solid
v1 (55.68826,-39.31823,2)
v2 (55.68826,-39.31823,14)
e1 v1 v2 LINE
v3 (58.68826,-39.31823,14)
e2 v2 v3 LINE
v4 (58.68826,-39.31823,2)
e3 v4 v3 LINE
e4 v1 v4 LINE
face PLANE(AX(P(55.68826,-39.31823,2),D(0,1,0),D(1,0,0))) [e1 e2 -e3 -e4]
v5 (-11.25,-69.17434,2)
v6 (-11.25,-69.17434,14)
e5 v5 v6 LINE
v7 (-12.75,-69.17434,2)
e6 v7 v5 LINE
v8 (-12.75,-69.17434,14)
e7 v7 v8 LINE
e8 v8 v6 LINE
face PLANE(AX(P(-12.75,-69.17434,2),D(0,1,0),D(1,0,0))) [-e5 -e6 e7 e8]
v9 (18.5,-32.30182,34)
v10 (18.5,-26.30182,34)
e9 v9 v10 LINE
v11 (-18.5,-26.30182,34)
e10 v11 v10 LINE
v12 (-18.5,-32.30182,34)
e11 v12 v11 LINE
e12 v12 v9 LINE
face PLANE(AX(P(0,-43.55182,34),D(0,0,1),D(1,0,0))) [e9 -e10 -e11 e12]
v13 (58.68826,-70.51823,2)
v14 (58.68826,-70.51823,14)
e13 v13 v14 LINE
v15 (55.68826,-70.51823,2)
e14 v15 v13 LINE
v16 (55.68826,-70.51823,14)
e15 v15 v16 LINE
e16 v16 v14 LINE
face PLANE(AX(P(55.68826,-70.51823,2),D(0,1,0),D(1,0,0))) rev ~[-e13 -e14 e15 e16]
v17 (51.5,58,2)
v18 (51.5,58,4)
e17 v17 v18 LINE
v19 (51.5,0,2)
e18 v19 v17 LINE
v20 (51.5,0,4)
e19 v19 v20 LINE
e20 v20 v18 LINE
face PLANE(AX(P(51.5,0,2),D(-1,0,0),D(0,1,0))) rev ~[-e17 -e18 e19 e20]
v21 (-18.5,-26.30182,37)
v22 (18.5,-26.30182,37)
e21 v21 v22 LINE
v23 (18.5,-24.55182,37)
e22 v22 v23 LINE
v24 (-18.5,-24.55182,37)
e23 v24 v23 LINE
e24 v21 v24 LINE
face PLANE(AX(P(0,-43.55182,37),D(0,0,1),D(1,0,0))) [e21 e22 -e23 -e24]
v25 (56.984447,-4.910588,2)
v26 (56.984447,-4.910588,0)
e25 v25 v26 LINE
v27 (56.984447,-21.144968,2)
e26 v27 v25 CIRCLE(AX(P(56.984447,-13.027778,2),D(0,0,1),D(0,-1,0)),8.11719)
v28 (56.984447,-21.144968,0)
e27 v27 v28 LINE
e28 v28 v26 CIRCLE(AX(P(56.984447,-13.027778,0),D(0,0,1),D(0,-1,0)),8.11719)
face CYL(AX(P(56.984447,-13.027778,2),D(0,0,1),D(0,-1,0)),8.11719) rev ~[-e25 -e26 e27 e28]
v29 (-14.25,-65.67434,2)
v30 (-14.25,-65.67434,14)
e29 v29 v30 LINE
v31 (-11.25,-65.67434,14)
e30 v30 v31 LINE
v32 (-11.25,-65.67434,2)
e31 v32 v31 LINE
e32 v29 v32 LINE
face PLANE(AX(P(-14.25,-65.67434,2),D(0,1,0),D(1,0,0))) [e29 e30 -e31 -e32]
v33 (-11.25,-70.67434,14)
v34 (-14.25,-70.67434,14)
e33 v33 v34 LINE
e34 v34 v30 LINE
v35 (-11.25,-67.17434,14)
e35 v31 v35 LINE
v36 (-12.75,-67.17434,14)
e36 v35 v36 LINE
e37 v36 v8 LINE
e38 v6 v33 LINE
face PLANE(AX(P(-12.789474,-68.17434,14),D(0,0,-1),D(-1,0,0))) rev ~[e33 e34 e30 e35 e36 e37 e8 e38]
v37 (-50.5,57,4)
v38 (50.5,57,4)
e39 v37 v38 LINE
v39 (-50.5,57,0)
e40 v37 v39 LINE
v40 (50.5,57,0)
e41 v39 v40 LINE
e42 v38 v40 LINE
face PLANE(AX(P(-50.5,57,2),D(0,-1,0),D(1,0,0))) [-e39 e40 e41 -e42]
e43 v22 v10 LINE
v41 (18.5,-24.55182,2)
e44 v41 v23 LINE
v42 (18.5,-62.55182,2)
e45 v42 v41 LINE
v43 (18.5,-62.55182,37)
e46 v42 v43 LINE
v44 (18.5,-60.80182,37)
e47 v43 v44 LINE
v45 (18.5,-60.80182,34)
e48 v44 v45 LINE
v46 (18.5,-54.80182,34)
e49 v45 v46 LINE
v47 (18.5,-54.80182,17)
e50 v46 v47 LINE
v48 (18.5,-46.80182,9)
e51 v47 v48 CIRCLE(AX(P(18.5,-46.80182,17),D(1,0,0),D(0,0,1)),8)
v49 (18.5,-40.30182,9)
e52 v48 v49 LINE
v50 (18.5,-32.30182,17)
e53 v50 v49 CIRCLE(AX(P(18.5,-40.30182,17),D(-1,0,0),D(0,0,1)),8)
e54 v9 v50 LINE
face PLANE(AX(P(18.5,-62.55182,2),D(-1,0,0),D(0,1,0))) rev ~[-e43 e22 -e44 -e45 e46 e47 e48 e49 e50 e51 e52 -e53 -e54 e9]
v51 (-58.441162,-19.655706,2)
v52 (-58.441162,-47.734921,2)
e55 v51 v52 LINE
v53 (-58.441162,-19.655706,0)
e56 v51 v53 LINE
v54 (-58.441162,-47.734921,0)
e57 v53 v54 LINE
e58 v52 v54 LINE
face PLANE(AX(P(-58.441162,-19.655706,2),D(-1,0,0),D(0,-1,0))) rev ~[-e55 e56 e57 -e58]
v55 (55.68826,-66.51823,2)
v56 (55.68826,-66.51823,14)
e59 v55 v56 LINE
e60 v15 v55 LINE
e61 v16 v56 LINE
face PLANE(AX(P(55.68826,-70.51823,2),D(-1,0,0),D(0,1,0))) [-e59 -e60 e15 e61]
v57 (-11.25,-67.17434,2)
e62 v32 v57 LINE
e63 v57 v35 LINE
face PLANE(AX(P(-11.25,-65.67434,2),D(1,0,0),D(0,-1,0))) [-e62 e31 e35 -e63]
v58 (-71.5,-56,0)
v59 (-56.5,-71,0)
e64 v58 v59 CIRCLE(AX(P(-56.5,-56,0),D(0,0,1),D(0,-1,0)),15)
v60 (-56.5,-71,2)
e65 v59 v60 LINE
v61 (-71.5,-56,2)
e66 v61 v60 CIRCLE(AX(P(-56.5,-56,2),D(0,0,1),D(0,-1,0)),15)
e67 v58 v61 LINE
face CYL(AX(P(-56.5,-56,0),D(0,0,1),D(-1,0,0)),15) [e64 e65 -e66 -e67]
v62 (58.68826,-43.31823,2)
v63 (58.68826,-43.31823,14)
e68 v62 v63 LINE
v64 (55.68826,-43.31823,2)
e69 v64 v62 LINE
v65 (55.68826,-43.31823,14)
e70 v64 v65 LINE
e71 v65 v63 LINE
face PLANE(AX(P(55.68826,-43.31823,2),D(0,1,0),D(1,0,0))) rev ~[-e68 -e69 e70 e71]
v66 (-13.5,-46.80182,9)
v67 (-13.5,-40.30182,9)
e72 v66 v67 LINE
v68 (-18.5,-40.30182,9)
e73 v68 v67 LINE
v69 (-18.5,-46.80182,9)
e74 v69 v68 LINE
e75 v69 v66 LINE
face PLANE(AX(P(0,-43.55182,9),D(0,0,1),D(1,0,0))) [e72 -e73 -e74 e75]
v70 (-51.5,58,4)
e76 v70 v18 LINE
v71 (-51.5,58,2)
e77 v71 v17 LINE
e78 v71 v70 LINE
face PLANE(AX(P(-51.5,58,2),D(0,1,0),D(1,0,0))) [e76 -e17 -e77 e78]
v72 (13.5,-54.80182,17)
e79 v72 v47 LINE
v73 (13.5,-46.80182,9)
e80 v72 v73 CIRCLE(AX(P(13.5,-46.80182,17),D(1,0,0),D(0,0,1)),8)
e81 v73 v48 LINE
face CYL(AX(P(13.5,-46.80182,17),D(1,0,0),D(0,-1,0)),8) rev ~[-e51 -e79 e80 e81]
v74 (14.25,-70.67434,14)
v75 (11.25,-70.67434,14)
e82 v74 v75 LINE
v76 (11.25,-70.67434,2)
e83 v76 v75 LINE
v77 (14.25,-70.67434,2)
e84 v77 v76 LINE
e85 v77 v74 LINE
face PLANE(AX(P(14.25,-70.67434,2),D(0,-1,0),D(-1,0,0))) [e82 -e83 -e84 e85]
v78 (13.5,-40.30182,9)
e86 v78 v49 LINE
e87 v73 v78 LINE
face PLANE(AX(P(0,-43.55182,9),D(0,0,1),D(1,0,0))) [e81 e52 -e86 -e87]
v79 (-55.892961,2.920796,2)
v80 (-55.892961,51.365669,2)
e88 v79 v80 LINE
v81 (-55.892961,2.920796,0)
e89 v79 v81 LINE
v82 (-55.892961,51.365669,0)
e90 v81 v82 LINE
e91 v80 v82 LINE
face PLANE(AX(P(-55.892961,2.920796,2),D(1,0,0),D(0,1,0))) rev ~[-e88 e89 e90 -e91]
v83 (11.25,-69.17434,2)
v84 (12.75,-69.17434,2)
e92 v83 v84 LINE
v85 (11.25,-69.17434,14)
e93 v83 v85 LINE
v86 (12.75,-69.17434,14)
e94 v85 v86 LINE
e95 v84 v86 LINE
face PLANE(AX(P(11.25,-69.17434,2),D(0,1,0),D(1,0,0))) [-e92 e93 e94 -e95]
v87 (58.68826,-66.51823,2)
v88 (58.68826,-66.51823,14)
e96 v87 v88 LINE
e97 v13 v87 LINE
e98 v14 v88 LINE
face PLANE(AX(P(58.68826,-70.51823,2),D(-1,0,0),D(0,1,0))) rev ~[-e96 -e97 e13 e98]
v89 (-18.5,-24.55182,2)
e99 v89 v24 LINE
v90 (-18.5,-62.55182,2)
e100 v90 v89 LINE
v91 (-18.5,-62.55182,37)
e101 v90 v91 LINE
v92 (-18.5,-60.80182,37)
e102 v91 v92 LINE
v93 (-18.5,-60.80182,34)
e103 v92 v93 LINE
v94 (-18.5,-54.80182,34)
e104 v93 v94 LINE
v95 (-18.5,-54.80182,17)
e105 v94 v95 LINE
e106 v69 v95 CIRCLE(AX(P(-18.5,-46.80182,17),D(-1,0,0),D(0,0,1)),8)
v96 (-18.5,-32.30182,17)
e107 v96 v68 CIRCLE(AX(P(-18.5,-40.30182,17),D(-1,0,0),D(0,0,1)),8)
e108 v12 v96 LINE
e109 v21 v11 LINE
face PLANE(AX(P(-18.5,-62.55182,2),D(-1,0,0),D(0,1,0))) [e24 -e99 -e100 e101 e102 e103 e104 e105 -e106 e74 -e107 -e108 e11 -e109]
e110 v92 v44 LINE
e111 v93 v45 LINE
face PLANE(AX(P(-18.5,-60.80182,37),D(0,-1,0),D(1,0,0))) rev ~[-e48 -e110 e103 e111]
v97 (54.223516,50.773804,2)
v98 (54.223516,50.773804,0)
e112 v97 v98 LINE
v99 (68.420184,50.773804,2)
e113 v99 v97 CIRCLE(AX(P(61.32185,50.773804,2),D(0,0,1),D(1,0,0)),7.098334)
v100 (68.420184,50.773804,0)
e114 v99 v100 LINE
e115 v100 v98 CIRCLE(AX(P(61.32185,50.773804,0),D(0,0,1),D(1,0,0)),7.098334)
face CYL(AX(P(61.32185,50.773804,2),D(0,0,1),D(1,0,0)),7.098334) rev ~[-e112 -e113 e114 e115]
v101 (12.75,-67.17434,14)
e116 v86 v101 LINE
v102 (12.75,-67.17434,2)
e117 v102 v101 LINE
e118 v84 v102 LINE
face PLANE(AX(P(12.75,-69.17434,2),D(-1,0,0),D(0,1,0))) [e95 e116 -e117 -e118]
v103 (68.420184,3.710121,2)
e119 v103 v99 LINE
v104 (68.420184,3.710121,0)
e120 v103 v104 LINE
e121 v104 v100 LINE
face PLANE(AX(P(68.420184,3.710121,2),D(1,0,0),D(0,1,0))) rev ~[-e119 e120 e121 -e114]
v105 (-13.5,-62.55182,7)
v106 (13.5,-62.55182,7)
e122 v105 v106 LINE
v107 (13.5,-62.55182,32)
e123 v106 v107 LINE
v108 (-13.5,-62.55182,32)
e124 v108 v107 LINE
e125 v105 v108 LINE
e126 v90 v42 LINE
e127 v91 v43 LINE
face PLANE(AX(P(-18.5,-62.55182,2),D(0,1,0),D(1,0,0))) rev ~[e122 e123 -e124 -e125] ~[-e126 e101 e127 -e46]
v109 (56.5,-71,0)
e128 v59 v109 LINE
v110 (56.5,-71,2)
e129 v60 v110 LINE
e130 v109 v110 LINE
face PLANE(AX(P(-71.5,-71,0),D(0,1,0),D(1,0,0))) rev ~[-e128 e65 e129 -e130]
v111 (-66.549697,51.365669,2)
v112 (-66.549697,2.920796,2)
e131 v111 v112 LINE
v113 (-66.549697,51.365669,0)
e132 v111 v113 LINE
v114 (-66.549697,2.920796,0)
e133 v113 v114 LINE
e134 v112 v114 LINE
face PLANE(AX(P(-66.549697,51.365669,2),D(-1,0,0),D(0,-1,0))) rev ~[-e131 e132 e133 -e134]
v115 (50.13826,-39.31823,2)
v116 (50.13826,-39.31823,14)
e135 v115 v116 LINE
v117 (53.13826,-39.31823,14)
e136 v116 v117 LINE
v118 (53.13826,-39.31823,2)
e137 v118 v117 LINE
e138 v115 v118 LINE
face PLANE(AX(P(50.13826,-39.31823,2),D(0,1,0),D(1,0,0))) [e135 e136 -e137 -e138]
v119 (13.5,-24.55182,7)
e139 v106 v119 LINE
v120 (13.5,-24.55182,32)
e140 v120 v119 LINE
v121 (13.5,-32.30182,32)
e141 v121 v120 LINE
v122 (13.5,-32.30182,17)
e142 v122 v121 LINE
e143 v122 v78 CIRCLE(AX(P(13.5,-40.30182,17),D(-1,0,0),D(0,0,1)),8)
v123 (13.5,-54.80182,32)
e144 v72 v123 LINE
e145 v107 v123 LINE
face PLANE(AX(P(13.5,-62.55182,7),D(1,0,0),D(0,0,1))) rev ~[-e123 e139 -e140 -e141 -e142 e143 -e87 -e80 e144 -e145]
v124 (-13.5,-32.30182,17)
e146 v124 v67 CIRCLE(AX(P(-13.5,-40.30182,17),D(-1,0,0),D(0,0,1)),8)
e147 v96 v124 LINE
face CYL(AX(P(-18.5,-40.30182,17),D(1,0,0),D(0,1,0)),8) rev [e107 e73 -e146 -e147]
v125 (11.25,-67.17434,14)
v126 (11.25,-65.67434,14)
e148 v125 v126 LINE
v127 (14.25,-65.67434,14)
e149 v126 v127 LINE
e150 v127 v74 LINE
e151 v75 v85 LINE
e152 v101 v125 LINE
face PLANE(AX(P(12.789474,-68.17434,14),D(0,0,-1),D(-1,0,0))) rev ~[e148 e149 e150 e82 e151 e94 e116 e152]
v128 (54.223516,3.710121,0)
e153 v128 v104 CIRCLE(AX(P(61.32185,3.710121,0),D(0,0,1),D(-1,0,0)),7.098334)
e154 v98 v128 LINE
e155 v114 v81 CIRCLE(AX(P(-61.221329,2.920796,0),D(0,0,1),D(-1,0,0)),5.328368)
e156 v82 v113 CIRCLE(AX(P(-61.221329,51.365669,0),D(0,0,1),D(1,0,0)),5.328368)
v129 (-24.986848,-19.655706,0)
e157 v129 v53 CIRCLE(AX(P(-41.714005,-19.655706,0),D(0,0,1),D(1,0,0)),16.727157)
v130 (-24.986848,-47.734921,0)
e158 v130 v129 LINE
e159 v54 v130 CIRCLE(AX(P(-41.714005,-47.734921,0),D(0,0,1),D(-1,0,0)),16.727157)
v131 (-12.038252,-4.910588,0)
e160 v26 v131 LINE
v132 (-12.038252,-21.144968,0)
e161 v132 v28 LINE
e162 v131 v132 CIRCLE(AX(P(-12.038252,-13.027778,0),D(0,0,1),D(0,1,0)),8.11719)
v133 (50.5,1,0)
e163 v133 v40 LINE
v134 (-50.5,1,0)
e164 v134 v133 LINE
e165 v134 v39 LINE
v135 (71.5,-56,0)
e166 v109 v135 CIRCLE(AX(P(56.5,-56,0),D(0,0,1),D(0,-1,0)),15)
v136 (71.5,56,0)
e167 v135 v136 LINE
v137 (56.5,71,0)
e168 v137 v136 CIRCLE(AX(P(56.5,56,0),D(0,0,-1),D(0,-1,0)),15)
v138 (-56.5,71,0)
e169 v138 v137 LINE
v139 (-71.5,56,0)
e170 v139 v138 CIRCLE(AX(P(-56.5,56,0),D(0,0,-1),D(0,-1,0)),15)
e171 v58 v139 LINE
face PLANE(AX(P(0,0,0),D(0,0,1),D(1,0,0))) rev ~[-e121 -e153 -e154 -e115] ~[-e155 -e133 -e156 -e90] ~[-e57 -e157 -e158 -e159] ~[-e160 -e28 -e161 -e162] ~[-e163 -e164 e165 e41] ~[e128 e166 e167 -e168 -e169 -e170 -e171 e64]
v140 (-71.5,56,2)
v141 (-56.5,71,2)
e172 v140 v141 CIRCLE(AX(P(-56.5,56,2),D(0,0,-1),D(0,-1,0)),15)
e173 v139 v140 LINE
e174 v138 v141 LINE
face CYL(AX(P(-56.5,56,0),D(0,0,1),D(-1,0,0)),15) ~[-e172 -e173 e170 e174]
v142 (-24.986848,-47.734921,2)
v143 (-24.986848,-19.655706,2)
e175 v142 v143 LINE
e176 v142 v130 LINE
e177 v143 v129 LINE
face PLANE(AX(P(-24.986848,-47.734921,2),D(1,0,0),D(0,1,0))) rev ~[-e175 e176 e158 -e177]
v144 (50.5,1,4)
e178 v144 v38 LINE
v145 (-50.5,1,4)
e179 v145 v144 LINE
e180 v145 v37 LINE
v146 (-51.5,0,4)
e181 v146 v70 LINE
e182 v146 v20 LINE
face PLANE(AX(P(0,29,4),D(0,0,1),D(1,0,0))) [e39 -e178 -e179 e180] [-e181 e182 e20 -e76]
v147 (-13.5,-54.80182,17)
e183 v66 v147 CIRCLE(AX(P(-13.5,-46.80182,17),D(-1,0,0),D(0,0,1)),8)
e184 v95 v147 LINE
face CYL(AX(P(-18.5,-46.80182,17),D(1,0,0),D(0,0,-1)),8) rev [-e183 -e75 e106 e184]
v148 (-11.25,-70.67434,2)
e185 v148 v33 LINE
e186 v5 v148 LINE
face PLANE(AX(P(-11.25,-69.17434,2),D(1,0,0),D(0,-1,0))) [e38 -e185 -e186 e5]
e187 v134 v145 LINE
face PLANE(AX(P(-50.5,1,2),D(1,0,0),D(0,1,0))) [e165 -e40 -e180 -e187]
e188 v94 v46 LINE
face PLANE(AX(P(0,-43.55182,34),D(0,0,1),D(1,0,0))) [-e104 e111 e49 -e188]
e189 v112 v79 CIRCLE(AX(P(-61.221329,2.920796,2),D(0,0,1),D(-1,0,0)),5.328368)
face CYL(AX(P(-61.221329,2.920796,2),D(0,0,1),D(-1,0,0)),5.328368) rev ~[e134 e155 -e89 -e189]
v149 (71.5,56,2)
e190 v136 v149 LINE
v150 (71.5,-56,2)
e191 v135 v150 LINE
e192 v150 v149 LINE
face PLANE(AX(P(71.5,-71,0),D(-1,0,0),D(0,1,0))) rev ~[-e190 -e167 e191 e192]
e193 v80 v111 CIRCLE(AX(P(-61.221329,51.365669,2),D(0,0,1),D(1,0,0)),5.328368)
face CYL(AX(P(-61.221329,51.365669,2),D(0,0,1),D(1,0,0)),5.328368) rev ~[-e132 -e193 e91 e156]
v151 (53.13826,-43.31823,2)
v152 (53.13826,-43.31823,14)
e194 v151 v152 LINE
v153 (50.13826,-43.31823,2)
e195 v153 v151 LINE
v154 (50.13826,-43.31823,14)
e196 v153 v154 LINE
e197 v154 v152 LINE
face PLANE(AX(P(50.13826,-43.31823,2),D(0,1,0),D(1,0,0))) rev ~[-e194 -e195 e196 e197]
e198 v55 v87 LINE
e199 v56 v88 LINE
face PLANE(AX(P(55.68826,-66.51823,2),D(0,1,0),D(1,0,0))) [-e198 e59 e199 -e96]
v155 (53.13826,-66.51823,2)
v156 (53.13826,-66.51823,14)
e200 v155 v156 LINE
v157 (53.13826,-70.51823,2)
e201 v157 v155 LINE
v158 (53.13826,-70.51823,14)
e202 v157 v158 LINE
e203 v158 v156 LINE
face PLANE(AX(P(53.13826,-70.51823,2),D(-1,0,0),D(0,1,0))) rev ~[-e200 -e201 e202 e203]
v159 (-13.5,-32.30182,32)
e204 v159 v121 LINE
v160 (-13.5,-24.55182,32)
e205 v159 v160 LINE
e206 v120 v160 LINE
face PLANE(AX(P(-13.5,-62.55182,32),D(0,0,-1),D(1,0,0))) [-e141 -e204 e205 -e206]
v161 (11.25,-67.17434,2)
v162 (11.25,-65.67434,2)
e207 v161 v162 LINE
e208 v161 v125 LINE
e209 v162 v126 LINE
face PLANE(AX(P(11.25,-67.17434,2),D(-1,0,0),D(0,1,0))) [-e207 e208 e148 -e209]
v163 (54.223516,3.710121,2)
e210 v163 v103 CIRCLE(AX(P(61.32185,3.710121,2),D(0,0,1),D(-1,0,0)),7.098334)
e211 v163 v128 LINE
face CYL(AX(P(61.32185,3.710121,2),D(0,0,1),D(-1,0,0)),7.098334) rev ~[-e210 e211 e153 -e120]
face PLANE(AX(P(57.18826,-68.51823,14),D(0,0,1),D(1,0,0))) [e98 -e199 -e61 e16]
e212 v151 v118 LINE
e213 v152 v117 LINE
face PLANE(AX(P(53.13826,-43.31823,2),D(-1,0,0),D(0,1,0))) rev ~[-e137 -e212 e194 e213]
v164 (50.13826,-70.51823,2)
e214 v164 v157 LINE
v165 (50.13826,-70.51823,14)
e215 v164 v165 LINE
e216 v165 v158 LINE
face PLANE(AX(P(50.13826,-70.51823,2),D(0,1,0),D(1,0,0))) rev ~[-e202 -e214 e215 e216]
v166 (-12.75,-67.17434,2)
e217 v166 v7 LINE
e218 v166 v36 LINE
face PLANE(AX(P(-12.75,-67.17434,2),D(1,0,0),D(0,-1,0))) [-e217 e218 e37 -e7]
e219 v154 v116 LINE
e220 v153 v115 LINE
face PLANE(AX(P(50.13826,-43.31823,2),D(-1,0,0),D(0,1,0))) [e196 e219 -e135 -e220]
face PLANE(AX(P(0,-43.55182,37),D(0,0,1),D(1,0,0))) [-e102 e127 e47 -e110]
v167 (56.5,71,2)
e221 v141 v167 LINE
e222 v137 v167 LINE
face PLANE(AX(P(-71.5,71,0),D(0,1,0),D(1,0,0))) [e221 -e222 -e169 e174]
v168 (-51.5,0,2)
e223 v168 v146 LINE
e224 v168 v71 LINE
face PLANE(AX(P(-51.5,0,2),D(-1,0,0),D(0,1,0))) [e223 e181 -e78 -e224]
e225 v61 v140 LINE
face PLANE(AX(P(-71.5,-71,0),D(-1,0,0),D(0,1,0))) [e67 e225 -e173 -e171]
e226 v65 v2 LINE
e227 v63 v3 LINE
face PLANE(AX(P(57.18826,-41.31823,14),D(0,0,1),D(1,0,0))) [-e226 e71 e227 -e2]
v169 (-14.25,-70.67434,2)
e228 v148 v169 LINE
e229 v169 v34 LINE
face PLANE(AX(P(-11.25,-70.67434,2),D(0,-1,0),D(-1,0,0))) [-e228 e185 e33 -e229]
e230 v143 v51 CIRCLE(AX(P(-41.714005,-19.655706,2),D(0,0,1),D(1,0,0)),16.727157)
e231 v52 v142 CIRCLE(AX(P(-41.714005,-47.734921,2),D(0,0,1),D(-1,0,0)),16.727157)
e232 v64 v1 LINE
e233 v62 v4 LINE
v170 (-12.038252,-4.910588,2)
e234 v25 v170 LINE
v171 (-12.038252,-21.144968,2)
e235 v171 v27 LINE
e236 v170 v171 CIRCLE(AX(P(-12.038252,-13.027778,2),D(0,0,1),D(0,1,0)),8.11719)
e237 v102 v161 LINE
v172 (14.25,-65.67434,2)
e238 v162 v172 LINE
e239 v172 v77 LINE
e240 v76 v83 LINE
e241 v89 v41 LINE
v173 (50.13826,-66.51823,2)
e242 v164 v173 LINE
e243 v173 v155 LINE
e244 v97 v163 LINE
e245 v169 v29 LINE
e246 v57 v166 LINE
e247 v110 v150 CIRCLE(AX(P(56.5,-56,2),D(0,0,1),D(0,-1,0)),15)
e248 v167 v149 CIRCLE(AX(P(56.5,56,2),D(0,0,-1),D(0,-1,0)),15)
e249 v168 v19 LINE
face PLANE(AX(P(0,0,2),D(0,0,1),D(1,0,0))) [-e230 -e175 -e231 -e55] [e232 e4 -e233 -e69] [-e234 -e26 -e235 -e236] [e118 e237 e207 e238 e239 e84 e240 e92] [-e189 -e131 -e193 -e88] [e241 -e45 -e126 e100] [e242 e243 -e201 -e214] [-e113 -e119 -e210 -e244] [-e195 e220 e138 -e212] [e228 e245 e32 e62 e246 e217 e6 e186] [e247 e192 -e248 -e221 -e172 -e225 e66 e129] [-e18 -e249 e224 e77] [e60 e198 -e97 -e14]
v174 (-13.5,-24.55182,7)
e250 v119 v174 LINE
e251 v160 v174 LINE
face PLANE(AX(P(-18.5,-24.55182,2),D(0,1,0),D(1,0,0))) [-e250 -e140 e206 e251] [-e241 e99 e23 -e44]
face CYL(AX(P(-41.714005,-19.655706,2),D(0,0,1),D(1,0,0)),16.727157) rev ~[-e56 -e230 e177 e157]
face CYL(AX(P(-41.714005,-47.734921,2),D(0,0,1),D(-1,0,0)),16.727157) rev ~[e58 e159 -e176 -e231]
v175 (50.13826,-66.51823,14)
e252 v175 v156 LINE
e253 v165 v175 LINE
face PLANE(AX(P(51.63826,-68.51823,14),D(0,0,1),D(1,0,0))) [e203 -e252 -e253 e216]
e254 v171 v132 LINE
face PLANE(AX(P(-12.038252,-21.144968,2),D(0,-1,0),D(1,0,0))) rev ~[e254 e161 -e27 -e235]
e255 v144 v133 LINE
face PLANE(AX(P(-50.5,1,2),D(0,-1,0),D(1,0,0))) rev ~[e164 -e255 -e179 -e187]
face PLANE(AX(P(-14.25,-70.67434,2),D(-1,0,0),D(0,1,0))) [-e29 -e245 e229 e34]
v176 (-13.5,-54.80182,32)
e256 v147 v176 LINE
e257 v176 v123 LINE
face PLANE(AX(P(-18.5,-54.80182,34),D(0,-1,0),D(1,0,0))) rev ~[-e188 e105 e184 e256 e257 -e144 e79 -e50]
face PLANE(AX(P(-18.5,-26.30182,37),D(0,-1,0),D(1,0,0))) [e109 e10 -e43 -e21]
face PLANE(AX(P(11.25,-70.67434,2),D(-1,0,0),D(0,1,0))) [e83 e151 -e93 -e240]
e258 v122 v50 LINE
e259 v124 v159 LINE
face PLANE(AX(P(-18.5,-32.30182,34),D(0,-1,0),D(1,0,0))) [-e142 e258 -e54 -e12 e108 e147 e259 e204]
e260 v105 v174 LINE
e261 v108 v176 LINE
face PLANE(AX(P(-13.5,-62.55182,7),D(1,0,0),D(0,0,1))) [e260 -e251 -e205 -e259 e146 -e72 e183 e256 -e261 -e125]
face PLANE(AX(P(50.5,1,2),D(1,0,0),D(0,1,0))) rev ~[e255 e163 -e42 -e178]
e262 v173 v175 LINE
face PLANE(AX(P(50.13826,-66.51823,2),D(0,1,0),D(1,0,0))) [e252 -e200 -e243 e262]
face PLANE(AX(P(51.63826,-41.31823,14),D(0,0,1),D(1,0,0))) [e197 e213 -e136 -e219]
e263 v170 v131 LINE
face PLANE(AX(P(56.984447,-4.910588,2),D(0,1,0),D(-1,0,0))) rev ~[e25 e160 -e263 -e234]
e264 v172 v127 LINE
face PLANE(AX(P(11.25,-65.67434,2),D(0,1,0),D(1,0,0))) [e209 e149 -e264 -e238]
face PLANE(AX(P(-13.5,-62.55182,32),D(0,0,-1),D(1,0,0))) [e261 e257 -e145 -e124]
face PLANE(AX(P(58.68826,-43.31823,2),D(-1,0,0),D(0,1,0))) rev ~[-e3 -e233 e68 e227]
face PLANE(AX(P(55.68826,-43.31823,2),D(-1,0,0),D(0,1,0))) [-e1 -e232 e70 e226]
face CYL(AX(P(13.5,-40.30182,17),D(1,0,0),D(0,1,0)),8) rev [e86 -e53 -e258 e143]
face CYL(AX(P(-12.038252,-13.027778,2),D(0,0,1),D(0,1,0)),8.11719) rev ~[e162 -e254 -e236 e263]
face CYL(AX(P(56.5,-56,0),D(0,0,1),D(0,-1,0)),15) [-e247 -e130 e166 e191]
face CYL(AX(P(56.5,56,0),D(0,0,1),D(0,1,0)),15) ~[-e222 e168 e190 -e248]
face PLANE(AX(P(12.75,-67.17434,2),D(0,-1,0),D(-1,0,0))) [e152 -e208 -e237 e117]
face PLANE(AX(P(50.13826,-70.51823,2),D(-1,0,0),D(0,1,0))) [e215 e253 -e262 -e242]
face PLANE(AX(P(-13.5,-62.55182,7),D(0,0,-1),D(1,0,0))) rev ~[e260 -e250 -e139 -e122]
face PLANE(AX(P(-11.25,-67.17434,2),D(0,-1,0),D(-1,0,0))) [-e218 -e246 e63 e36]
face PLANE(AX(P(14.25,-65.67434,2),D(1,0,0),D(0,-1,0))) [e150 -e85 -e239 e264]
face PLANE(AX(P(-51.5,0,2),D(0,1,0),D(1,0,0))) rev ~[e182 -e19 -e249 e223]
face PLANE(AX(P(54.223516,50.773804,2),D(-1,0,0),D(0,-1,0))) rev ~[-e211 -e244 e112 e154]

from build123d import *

# Parameters (mm, degrees)
SKETCH_W        = 143
SKETCH_H        = 142
PAD_DEPTH       = 2
SKETCH007_W     = 3
SKETCH007_H     = 4
PAD005_DEPTH    = 12
SKETCH008_W     = 103
SKETCH008_H     = 58
SKETCH008_W_2   = 101
SKETCH008_H_2   = 56
PAD006_DEPTH    = 2
SKETCH009_W     = 37
SKETCH009_H     = 38
PAD007_DEPTH    = 35
SKETCH010_W     = 37
SKETCH010_H     = 34.5
POCKET_DEPTH    = 3
SKETCH011_W     = 37
SKETCH011_H     = 22.5
POCKET001_DEPTH = 25
SKETCH013_W     = 27
SKETCH013_H     = 25
POCKET002_DEPTH = 45
SKETCH014_W     = 101
SKETCH014_H     = 56
POCKET003_DEPTH = 2.001
POCKET004_DEPTH = 2.001
FILLET_R        = 8
FILLET001_R     = 15


with BuildPart() as part:
    # Sketch → Pad (new body)
    with BuildSketch(Plane.XY):
        Rectangle(SKETCH_W, SKETCH_H)
    extrude(amount=PAD_DEPTH)

    # Sketch007 (on Face6 of Pad) → Pad005 (join)
    with BuildSketch(Plane.XY.offset(2)):
        with Locations((57.18826, -41.31823)):
            Rectangle(SKETCH007_W, SKETCH007_H)
        with Locations((51.63826, -41.31823)):
            Rectangle(SKETCH007_W, SKETCH007_H)
        with Locations((57.18826, -68.51823)):
            Rectangle(SKETCH007_W, SKETCH007_H)
        with Locations((51.63826, -68.51823)):
            Rectangle(SKETCH007_W, SKETCH007_H)
        Polygon((11.25, -65.67434), (14.25, -65.67434), (14.25, -70.67434), (11.25, -70.67434), (11.25, -69.17434), (12.75, -69.17434), (12.75, -67.17434), (11.25, -67.17434), align=None)
        Polygon((-14.25, -65.67434), (-11.25, -65.67434), (-11.25, -67.17434), (-12.75, -67.17434), (-12.75, -69.17434), (-11.25, -69.17434), (-11.25, -70.67434), (-14.25, -70.67434), align=None)
    extrude(amount=PAD005_DEPTH)

    # Sketch008 (on Face5 of Pad005) → Pad006 (join)
    with BuildSketch(Plane.XY.offset(2)):
        with Locations((0, 29)):
            Rectangle(SKETCH008_W, SKETCH008_H)
        with Locations((0, 29)):
            Rectangle(SKETCH008_W_2, SKETCH008_H_2, mode=Mode.SUBTRACT)
    extrude(amount=PAD006_DEPTH)

    # Sketch009 (on Face5 of Pad006) → Pad007 (join)
    with BuildSketch(Plane.XY.offset(2)):
        with Locations((0, -43.55182)):
            Rectangle(SKETCH009_W, SKETCH009_H)
    extrude(amount=PAD007_DEPTH)

    # Sketch010 (on Face48 of Pad007) → Pocket (cut)
    with BuildSketch(Plane.XY.offset(37)):
        with Locations((0, -43.55182)):
            Rectangle(SKETCH010_W, SKETCH010_H)
    extrude(amount=-POCKET_DEPTH, mode=Mode.SUBTRACT)

    # Sketch011 (on Face51 of Pocket) → Pocket001 (cut)
    with BuildSketch(Plane.XY.offset(34)):
        with Locations((0, -43.55182)):
            Rectangle(SKETCH011_W, SKETCH011_H)
    extrude(amount=-POCKET001_DEPTH, mode=Mode.SUBTRACT)

    # Sketch013 (on Face15 of Pocket001) → Pocket002 (cut)
    with BuildSketch(Plane.XZ.offset(62.55182)):
        with Locations((0, 19.5)):
            Rectangle(SKETCH013_W, SKETCH013_H)
    extrude(amount=-POCKET002_DEPTH, mode=Mode.SUBTRACT)

    # Sketch014 (on Face73 of Pocket002) → Pocket003 (cut, through all)
    with BuildSketch(Plane.XY.offset(2)):
        with Locations((0, 29)):
            Rectangle(SKETCH014_W, SKETCH014_H)
    extrude(amount=-POCKET003_DEPTH, mode=Mode.SUBTRACT)

    # Sketch015 (on Face5 of Pocket003) → Pocket004 (cut, through all)
    with BuildSketch(Plane.XY.offset(2)):
        with BuildLine():
            ThreePointArc((-24.986848, -19.655706), (-41.714005, -2.928549), (-58.441162, -19.655706))
            Line((-58.441162, -19.655706), (-58.441162, -47.734921))
            ThreePointArc((-58.441162, -47.734921), (-41.714005, -64.462078), (-24.986848, -47.734921))
            Line((-24.986848, -47.734921), (-24.986848, -19.655706))
        make_face()
        with BuildLine():
            ThreePointArc((-12.038252, -4.910588), (-20.155442, -13.027778), (-12.038252, -21.144968))
            Line((-12.038252, -21.144968), (56.984447, -21.144968))
            ThreePointArc((56.984447, -21.144968), (65.101637, -13.027778), (56.984447, -4.910588))
            Line((56.984447, -4.910588), (-12.038252, -4.910588))
        make_face()
        with BuildLine():
            ThreePointArc((-55.892961, 51.365669), (-61.221329, 56.694037), (-66.549697, 51.365669))
            Line((-66.549697, 51.365669), (-66.549697, 2.920796))
            ThreePointArc((-66.549697, 2.920796), (-61.221329, -2.407572), (-55.892961, 2.920796))
            Line((-55.892961, 2.920796), (-55.892961, 51.365669))
        make_face()
        with BuildLine():
            ThreePointArc((68.420184, 50.773804), (61.32185, 57.872138), (54.223516, 50.773804))
            Line((54.223516, 50.773804), (54.223516, 3.710121))
            ThreePointArc((54.223516, 3.710121), (61.32185, -3.388213), (68.420184, 3.710121))
            Line((68.420184, 3.710121), (68.420184, 50.773804))
        make_face()
    extrude(amount=-POCKET004_DEPTH, mode=Mode.SUBTRACT)

    # Fillet
    fillet_edges = [part.edges().sort_by_distance(p)[0] for p in [
        (16, -32.30182, 9),
        (-16, -32.30182, 9),
        (-16, -54.80182, 9),
        (16, -54.80182, 9),
    ]]
    fillet(fillet_edges, radius=FILLET_R)

    # Fillet001
    fillet001_edges = [part.edges().sort_by_distance(p)[0] for p in [
        (-71.5, -71, 1),
        (71.5, -71, 1),
        (71.5, 71, 1),
        (-71.5, 71, 1),
    ]]
    fillet(fillet001_edges, radius=FILLET001_R)


solid = part.part
